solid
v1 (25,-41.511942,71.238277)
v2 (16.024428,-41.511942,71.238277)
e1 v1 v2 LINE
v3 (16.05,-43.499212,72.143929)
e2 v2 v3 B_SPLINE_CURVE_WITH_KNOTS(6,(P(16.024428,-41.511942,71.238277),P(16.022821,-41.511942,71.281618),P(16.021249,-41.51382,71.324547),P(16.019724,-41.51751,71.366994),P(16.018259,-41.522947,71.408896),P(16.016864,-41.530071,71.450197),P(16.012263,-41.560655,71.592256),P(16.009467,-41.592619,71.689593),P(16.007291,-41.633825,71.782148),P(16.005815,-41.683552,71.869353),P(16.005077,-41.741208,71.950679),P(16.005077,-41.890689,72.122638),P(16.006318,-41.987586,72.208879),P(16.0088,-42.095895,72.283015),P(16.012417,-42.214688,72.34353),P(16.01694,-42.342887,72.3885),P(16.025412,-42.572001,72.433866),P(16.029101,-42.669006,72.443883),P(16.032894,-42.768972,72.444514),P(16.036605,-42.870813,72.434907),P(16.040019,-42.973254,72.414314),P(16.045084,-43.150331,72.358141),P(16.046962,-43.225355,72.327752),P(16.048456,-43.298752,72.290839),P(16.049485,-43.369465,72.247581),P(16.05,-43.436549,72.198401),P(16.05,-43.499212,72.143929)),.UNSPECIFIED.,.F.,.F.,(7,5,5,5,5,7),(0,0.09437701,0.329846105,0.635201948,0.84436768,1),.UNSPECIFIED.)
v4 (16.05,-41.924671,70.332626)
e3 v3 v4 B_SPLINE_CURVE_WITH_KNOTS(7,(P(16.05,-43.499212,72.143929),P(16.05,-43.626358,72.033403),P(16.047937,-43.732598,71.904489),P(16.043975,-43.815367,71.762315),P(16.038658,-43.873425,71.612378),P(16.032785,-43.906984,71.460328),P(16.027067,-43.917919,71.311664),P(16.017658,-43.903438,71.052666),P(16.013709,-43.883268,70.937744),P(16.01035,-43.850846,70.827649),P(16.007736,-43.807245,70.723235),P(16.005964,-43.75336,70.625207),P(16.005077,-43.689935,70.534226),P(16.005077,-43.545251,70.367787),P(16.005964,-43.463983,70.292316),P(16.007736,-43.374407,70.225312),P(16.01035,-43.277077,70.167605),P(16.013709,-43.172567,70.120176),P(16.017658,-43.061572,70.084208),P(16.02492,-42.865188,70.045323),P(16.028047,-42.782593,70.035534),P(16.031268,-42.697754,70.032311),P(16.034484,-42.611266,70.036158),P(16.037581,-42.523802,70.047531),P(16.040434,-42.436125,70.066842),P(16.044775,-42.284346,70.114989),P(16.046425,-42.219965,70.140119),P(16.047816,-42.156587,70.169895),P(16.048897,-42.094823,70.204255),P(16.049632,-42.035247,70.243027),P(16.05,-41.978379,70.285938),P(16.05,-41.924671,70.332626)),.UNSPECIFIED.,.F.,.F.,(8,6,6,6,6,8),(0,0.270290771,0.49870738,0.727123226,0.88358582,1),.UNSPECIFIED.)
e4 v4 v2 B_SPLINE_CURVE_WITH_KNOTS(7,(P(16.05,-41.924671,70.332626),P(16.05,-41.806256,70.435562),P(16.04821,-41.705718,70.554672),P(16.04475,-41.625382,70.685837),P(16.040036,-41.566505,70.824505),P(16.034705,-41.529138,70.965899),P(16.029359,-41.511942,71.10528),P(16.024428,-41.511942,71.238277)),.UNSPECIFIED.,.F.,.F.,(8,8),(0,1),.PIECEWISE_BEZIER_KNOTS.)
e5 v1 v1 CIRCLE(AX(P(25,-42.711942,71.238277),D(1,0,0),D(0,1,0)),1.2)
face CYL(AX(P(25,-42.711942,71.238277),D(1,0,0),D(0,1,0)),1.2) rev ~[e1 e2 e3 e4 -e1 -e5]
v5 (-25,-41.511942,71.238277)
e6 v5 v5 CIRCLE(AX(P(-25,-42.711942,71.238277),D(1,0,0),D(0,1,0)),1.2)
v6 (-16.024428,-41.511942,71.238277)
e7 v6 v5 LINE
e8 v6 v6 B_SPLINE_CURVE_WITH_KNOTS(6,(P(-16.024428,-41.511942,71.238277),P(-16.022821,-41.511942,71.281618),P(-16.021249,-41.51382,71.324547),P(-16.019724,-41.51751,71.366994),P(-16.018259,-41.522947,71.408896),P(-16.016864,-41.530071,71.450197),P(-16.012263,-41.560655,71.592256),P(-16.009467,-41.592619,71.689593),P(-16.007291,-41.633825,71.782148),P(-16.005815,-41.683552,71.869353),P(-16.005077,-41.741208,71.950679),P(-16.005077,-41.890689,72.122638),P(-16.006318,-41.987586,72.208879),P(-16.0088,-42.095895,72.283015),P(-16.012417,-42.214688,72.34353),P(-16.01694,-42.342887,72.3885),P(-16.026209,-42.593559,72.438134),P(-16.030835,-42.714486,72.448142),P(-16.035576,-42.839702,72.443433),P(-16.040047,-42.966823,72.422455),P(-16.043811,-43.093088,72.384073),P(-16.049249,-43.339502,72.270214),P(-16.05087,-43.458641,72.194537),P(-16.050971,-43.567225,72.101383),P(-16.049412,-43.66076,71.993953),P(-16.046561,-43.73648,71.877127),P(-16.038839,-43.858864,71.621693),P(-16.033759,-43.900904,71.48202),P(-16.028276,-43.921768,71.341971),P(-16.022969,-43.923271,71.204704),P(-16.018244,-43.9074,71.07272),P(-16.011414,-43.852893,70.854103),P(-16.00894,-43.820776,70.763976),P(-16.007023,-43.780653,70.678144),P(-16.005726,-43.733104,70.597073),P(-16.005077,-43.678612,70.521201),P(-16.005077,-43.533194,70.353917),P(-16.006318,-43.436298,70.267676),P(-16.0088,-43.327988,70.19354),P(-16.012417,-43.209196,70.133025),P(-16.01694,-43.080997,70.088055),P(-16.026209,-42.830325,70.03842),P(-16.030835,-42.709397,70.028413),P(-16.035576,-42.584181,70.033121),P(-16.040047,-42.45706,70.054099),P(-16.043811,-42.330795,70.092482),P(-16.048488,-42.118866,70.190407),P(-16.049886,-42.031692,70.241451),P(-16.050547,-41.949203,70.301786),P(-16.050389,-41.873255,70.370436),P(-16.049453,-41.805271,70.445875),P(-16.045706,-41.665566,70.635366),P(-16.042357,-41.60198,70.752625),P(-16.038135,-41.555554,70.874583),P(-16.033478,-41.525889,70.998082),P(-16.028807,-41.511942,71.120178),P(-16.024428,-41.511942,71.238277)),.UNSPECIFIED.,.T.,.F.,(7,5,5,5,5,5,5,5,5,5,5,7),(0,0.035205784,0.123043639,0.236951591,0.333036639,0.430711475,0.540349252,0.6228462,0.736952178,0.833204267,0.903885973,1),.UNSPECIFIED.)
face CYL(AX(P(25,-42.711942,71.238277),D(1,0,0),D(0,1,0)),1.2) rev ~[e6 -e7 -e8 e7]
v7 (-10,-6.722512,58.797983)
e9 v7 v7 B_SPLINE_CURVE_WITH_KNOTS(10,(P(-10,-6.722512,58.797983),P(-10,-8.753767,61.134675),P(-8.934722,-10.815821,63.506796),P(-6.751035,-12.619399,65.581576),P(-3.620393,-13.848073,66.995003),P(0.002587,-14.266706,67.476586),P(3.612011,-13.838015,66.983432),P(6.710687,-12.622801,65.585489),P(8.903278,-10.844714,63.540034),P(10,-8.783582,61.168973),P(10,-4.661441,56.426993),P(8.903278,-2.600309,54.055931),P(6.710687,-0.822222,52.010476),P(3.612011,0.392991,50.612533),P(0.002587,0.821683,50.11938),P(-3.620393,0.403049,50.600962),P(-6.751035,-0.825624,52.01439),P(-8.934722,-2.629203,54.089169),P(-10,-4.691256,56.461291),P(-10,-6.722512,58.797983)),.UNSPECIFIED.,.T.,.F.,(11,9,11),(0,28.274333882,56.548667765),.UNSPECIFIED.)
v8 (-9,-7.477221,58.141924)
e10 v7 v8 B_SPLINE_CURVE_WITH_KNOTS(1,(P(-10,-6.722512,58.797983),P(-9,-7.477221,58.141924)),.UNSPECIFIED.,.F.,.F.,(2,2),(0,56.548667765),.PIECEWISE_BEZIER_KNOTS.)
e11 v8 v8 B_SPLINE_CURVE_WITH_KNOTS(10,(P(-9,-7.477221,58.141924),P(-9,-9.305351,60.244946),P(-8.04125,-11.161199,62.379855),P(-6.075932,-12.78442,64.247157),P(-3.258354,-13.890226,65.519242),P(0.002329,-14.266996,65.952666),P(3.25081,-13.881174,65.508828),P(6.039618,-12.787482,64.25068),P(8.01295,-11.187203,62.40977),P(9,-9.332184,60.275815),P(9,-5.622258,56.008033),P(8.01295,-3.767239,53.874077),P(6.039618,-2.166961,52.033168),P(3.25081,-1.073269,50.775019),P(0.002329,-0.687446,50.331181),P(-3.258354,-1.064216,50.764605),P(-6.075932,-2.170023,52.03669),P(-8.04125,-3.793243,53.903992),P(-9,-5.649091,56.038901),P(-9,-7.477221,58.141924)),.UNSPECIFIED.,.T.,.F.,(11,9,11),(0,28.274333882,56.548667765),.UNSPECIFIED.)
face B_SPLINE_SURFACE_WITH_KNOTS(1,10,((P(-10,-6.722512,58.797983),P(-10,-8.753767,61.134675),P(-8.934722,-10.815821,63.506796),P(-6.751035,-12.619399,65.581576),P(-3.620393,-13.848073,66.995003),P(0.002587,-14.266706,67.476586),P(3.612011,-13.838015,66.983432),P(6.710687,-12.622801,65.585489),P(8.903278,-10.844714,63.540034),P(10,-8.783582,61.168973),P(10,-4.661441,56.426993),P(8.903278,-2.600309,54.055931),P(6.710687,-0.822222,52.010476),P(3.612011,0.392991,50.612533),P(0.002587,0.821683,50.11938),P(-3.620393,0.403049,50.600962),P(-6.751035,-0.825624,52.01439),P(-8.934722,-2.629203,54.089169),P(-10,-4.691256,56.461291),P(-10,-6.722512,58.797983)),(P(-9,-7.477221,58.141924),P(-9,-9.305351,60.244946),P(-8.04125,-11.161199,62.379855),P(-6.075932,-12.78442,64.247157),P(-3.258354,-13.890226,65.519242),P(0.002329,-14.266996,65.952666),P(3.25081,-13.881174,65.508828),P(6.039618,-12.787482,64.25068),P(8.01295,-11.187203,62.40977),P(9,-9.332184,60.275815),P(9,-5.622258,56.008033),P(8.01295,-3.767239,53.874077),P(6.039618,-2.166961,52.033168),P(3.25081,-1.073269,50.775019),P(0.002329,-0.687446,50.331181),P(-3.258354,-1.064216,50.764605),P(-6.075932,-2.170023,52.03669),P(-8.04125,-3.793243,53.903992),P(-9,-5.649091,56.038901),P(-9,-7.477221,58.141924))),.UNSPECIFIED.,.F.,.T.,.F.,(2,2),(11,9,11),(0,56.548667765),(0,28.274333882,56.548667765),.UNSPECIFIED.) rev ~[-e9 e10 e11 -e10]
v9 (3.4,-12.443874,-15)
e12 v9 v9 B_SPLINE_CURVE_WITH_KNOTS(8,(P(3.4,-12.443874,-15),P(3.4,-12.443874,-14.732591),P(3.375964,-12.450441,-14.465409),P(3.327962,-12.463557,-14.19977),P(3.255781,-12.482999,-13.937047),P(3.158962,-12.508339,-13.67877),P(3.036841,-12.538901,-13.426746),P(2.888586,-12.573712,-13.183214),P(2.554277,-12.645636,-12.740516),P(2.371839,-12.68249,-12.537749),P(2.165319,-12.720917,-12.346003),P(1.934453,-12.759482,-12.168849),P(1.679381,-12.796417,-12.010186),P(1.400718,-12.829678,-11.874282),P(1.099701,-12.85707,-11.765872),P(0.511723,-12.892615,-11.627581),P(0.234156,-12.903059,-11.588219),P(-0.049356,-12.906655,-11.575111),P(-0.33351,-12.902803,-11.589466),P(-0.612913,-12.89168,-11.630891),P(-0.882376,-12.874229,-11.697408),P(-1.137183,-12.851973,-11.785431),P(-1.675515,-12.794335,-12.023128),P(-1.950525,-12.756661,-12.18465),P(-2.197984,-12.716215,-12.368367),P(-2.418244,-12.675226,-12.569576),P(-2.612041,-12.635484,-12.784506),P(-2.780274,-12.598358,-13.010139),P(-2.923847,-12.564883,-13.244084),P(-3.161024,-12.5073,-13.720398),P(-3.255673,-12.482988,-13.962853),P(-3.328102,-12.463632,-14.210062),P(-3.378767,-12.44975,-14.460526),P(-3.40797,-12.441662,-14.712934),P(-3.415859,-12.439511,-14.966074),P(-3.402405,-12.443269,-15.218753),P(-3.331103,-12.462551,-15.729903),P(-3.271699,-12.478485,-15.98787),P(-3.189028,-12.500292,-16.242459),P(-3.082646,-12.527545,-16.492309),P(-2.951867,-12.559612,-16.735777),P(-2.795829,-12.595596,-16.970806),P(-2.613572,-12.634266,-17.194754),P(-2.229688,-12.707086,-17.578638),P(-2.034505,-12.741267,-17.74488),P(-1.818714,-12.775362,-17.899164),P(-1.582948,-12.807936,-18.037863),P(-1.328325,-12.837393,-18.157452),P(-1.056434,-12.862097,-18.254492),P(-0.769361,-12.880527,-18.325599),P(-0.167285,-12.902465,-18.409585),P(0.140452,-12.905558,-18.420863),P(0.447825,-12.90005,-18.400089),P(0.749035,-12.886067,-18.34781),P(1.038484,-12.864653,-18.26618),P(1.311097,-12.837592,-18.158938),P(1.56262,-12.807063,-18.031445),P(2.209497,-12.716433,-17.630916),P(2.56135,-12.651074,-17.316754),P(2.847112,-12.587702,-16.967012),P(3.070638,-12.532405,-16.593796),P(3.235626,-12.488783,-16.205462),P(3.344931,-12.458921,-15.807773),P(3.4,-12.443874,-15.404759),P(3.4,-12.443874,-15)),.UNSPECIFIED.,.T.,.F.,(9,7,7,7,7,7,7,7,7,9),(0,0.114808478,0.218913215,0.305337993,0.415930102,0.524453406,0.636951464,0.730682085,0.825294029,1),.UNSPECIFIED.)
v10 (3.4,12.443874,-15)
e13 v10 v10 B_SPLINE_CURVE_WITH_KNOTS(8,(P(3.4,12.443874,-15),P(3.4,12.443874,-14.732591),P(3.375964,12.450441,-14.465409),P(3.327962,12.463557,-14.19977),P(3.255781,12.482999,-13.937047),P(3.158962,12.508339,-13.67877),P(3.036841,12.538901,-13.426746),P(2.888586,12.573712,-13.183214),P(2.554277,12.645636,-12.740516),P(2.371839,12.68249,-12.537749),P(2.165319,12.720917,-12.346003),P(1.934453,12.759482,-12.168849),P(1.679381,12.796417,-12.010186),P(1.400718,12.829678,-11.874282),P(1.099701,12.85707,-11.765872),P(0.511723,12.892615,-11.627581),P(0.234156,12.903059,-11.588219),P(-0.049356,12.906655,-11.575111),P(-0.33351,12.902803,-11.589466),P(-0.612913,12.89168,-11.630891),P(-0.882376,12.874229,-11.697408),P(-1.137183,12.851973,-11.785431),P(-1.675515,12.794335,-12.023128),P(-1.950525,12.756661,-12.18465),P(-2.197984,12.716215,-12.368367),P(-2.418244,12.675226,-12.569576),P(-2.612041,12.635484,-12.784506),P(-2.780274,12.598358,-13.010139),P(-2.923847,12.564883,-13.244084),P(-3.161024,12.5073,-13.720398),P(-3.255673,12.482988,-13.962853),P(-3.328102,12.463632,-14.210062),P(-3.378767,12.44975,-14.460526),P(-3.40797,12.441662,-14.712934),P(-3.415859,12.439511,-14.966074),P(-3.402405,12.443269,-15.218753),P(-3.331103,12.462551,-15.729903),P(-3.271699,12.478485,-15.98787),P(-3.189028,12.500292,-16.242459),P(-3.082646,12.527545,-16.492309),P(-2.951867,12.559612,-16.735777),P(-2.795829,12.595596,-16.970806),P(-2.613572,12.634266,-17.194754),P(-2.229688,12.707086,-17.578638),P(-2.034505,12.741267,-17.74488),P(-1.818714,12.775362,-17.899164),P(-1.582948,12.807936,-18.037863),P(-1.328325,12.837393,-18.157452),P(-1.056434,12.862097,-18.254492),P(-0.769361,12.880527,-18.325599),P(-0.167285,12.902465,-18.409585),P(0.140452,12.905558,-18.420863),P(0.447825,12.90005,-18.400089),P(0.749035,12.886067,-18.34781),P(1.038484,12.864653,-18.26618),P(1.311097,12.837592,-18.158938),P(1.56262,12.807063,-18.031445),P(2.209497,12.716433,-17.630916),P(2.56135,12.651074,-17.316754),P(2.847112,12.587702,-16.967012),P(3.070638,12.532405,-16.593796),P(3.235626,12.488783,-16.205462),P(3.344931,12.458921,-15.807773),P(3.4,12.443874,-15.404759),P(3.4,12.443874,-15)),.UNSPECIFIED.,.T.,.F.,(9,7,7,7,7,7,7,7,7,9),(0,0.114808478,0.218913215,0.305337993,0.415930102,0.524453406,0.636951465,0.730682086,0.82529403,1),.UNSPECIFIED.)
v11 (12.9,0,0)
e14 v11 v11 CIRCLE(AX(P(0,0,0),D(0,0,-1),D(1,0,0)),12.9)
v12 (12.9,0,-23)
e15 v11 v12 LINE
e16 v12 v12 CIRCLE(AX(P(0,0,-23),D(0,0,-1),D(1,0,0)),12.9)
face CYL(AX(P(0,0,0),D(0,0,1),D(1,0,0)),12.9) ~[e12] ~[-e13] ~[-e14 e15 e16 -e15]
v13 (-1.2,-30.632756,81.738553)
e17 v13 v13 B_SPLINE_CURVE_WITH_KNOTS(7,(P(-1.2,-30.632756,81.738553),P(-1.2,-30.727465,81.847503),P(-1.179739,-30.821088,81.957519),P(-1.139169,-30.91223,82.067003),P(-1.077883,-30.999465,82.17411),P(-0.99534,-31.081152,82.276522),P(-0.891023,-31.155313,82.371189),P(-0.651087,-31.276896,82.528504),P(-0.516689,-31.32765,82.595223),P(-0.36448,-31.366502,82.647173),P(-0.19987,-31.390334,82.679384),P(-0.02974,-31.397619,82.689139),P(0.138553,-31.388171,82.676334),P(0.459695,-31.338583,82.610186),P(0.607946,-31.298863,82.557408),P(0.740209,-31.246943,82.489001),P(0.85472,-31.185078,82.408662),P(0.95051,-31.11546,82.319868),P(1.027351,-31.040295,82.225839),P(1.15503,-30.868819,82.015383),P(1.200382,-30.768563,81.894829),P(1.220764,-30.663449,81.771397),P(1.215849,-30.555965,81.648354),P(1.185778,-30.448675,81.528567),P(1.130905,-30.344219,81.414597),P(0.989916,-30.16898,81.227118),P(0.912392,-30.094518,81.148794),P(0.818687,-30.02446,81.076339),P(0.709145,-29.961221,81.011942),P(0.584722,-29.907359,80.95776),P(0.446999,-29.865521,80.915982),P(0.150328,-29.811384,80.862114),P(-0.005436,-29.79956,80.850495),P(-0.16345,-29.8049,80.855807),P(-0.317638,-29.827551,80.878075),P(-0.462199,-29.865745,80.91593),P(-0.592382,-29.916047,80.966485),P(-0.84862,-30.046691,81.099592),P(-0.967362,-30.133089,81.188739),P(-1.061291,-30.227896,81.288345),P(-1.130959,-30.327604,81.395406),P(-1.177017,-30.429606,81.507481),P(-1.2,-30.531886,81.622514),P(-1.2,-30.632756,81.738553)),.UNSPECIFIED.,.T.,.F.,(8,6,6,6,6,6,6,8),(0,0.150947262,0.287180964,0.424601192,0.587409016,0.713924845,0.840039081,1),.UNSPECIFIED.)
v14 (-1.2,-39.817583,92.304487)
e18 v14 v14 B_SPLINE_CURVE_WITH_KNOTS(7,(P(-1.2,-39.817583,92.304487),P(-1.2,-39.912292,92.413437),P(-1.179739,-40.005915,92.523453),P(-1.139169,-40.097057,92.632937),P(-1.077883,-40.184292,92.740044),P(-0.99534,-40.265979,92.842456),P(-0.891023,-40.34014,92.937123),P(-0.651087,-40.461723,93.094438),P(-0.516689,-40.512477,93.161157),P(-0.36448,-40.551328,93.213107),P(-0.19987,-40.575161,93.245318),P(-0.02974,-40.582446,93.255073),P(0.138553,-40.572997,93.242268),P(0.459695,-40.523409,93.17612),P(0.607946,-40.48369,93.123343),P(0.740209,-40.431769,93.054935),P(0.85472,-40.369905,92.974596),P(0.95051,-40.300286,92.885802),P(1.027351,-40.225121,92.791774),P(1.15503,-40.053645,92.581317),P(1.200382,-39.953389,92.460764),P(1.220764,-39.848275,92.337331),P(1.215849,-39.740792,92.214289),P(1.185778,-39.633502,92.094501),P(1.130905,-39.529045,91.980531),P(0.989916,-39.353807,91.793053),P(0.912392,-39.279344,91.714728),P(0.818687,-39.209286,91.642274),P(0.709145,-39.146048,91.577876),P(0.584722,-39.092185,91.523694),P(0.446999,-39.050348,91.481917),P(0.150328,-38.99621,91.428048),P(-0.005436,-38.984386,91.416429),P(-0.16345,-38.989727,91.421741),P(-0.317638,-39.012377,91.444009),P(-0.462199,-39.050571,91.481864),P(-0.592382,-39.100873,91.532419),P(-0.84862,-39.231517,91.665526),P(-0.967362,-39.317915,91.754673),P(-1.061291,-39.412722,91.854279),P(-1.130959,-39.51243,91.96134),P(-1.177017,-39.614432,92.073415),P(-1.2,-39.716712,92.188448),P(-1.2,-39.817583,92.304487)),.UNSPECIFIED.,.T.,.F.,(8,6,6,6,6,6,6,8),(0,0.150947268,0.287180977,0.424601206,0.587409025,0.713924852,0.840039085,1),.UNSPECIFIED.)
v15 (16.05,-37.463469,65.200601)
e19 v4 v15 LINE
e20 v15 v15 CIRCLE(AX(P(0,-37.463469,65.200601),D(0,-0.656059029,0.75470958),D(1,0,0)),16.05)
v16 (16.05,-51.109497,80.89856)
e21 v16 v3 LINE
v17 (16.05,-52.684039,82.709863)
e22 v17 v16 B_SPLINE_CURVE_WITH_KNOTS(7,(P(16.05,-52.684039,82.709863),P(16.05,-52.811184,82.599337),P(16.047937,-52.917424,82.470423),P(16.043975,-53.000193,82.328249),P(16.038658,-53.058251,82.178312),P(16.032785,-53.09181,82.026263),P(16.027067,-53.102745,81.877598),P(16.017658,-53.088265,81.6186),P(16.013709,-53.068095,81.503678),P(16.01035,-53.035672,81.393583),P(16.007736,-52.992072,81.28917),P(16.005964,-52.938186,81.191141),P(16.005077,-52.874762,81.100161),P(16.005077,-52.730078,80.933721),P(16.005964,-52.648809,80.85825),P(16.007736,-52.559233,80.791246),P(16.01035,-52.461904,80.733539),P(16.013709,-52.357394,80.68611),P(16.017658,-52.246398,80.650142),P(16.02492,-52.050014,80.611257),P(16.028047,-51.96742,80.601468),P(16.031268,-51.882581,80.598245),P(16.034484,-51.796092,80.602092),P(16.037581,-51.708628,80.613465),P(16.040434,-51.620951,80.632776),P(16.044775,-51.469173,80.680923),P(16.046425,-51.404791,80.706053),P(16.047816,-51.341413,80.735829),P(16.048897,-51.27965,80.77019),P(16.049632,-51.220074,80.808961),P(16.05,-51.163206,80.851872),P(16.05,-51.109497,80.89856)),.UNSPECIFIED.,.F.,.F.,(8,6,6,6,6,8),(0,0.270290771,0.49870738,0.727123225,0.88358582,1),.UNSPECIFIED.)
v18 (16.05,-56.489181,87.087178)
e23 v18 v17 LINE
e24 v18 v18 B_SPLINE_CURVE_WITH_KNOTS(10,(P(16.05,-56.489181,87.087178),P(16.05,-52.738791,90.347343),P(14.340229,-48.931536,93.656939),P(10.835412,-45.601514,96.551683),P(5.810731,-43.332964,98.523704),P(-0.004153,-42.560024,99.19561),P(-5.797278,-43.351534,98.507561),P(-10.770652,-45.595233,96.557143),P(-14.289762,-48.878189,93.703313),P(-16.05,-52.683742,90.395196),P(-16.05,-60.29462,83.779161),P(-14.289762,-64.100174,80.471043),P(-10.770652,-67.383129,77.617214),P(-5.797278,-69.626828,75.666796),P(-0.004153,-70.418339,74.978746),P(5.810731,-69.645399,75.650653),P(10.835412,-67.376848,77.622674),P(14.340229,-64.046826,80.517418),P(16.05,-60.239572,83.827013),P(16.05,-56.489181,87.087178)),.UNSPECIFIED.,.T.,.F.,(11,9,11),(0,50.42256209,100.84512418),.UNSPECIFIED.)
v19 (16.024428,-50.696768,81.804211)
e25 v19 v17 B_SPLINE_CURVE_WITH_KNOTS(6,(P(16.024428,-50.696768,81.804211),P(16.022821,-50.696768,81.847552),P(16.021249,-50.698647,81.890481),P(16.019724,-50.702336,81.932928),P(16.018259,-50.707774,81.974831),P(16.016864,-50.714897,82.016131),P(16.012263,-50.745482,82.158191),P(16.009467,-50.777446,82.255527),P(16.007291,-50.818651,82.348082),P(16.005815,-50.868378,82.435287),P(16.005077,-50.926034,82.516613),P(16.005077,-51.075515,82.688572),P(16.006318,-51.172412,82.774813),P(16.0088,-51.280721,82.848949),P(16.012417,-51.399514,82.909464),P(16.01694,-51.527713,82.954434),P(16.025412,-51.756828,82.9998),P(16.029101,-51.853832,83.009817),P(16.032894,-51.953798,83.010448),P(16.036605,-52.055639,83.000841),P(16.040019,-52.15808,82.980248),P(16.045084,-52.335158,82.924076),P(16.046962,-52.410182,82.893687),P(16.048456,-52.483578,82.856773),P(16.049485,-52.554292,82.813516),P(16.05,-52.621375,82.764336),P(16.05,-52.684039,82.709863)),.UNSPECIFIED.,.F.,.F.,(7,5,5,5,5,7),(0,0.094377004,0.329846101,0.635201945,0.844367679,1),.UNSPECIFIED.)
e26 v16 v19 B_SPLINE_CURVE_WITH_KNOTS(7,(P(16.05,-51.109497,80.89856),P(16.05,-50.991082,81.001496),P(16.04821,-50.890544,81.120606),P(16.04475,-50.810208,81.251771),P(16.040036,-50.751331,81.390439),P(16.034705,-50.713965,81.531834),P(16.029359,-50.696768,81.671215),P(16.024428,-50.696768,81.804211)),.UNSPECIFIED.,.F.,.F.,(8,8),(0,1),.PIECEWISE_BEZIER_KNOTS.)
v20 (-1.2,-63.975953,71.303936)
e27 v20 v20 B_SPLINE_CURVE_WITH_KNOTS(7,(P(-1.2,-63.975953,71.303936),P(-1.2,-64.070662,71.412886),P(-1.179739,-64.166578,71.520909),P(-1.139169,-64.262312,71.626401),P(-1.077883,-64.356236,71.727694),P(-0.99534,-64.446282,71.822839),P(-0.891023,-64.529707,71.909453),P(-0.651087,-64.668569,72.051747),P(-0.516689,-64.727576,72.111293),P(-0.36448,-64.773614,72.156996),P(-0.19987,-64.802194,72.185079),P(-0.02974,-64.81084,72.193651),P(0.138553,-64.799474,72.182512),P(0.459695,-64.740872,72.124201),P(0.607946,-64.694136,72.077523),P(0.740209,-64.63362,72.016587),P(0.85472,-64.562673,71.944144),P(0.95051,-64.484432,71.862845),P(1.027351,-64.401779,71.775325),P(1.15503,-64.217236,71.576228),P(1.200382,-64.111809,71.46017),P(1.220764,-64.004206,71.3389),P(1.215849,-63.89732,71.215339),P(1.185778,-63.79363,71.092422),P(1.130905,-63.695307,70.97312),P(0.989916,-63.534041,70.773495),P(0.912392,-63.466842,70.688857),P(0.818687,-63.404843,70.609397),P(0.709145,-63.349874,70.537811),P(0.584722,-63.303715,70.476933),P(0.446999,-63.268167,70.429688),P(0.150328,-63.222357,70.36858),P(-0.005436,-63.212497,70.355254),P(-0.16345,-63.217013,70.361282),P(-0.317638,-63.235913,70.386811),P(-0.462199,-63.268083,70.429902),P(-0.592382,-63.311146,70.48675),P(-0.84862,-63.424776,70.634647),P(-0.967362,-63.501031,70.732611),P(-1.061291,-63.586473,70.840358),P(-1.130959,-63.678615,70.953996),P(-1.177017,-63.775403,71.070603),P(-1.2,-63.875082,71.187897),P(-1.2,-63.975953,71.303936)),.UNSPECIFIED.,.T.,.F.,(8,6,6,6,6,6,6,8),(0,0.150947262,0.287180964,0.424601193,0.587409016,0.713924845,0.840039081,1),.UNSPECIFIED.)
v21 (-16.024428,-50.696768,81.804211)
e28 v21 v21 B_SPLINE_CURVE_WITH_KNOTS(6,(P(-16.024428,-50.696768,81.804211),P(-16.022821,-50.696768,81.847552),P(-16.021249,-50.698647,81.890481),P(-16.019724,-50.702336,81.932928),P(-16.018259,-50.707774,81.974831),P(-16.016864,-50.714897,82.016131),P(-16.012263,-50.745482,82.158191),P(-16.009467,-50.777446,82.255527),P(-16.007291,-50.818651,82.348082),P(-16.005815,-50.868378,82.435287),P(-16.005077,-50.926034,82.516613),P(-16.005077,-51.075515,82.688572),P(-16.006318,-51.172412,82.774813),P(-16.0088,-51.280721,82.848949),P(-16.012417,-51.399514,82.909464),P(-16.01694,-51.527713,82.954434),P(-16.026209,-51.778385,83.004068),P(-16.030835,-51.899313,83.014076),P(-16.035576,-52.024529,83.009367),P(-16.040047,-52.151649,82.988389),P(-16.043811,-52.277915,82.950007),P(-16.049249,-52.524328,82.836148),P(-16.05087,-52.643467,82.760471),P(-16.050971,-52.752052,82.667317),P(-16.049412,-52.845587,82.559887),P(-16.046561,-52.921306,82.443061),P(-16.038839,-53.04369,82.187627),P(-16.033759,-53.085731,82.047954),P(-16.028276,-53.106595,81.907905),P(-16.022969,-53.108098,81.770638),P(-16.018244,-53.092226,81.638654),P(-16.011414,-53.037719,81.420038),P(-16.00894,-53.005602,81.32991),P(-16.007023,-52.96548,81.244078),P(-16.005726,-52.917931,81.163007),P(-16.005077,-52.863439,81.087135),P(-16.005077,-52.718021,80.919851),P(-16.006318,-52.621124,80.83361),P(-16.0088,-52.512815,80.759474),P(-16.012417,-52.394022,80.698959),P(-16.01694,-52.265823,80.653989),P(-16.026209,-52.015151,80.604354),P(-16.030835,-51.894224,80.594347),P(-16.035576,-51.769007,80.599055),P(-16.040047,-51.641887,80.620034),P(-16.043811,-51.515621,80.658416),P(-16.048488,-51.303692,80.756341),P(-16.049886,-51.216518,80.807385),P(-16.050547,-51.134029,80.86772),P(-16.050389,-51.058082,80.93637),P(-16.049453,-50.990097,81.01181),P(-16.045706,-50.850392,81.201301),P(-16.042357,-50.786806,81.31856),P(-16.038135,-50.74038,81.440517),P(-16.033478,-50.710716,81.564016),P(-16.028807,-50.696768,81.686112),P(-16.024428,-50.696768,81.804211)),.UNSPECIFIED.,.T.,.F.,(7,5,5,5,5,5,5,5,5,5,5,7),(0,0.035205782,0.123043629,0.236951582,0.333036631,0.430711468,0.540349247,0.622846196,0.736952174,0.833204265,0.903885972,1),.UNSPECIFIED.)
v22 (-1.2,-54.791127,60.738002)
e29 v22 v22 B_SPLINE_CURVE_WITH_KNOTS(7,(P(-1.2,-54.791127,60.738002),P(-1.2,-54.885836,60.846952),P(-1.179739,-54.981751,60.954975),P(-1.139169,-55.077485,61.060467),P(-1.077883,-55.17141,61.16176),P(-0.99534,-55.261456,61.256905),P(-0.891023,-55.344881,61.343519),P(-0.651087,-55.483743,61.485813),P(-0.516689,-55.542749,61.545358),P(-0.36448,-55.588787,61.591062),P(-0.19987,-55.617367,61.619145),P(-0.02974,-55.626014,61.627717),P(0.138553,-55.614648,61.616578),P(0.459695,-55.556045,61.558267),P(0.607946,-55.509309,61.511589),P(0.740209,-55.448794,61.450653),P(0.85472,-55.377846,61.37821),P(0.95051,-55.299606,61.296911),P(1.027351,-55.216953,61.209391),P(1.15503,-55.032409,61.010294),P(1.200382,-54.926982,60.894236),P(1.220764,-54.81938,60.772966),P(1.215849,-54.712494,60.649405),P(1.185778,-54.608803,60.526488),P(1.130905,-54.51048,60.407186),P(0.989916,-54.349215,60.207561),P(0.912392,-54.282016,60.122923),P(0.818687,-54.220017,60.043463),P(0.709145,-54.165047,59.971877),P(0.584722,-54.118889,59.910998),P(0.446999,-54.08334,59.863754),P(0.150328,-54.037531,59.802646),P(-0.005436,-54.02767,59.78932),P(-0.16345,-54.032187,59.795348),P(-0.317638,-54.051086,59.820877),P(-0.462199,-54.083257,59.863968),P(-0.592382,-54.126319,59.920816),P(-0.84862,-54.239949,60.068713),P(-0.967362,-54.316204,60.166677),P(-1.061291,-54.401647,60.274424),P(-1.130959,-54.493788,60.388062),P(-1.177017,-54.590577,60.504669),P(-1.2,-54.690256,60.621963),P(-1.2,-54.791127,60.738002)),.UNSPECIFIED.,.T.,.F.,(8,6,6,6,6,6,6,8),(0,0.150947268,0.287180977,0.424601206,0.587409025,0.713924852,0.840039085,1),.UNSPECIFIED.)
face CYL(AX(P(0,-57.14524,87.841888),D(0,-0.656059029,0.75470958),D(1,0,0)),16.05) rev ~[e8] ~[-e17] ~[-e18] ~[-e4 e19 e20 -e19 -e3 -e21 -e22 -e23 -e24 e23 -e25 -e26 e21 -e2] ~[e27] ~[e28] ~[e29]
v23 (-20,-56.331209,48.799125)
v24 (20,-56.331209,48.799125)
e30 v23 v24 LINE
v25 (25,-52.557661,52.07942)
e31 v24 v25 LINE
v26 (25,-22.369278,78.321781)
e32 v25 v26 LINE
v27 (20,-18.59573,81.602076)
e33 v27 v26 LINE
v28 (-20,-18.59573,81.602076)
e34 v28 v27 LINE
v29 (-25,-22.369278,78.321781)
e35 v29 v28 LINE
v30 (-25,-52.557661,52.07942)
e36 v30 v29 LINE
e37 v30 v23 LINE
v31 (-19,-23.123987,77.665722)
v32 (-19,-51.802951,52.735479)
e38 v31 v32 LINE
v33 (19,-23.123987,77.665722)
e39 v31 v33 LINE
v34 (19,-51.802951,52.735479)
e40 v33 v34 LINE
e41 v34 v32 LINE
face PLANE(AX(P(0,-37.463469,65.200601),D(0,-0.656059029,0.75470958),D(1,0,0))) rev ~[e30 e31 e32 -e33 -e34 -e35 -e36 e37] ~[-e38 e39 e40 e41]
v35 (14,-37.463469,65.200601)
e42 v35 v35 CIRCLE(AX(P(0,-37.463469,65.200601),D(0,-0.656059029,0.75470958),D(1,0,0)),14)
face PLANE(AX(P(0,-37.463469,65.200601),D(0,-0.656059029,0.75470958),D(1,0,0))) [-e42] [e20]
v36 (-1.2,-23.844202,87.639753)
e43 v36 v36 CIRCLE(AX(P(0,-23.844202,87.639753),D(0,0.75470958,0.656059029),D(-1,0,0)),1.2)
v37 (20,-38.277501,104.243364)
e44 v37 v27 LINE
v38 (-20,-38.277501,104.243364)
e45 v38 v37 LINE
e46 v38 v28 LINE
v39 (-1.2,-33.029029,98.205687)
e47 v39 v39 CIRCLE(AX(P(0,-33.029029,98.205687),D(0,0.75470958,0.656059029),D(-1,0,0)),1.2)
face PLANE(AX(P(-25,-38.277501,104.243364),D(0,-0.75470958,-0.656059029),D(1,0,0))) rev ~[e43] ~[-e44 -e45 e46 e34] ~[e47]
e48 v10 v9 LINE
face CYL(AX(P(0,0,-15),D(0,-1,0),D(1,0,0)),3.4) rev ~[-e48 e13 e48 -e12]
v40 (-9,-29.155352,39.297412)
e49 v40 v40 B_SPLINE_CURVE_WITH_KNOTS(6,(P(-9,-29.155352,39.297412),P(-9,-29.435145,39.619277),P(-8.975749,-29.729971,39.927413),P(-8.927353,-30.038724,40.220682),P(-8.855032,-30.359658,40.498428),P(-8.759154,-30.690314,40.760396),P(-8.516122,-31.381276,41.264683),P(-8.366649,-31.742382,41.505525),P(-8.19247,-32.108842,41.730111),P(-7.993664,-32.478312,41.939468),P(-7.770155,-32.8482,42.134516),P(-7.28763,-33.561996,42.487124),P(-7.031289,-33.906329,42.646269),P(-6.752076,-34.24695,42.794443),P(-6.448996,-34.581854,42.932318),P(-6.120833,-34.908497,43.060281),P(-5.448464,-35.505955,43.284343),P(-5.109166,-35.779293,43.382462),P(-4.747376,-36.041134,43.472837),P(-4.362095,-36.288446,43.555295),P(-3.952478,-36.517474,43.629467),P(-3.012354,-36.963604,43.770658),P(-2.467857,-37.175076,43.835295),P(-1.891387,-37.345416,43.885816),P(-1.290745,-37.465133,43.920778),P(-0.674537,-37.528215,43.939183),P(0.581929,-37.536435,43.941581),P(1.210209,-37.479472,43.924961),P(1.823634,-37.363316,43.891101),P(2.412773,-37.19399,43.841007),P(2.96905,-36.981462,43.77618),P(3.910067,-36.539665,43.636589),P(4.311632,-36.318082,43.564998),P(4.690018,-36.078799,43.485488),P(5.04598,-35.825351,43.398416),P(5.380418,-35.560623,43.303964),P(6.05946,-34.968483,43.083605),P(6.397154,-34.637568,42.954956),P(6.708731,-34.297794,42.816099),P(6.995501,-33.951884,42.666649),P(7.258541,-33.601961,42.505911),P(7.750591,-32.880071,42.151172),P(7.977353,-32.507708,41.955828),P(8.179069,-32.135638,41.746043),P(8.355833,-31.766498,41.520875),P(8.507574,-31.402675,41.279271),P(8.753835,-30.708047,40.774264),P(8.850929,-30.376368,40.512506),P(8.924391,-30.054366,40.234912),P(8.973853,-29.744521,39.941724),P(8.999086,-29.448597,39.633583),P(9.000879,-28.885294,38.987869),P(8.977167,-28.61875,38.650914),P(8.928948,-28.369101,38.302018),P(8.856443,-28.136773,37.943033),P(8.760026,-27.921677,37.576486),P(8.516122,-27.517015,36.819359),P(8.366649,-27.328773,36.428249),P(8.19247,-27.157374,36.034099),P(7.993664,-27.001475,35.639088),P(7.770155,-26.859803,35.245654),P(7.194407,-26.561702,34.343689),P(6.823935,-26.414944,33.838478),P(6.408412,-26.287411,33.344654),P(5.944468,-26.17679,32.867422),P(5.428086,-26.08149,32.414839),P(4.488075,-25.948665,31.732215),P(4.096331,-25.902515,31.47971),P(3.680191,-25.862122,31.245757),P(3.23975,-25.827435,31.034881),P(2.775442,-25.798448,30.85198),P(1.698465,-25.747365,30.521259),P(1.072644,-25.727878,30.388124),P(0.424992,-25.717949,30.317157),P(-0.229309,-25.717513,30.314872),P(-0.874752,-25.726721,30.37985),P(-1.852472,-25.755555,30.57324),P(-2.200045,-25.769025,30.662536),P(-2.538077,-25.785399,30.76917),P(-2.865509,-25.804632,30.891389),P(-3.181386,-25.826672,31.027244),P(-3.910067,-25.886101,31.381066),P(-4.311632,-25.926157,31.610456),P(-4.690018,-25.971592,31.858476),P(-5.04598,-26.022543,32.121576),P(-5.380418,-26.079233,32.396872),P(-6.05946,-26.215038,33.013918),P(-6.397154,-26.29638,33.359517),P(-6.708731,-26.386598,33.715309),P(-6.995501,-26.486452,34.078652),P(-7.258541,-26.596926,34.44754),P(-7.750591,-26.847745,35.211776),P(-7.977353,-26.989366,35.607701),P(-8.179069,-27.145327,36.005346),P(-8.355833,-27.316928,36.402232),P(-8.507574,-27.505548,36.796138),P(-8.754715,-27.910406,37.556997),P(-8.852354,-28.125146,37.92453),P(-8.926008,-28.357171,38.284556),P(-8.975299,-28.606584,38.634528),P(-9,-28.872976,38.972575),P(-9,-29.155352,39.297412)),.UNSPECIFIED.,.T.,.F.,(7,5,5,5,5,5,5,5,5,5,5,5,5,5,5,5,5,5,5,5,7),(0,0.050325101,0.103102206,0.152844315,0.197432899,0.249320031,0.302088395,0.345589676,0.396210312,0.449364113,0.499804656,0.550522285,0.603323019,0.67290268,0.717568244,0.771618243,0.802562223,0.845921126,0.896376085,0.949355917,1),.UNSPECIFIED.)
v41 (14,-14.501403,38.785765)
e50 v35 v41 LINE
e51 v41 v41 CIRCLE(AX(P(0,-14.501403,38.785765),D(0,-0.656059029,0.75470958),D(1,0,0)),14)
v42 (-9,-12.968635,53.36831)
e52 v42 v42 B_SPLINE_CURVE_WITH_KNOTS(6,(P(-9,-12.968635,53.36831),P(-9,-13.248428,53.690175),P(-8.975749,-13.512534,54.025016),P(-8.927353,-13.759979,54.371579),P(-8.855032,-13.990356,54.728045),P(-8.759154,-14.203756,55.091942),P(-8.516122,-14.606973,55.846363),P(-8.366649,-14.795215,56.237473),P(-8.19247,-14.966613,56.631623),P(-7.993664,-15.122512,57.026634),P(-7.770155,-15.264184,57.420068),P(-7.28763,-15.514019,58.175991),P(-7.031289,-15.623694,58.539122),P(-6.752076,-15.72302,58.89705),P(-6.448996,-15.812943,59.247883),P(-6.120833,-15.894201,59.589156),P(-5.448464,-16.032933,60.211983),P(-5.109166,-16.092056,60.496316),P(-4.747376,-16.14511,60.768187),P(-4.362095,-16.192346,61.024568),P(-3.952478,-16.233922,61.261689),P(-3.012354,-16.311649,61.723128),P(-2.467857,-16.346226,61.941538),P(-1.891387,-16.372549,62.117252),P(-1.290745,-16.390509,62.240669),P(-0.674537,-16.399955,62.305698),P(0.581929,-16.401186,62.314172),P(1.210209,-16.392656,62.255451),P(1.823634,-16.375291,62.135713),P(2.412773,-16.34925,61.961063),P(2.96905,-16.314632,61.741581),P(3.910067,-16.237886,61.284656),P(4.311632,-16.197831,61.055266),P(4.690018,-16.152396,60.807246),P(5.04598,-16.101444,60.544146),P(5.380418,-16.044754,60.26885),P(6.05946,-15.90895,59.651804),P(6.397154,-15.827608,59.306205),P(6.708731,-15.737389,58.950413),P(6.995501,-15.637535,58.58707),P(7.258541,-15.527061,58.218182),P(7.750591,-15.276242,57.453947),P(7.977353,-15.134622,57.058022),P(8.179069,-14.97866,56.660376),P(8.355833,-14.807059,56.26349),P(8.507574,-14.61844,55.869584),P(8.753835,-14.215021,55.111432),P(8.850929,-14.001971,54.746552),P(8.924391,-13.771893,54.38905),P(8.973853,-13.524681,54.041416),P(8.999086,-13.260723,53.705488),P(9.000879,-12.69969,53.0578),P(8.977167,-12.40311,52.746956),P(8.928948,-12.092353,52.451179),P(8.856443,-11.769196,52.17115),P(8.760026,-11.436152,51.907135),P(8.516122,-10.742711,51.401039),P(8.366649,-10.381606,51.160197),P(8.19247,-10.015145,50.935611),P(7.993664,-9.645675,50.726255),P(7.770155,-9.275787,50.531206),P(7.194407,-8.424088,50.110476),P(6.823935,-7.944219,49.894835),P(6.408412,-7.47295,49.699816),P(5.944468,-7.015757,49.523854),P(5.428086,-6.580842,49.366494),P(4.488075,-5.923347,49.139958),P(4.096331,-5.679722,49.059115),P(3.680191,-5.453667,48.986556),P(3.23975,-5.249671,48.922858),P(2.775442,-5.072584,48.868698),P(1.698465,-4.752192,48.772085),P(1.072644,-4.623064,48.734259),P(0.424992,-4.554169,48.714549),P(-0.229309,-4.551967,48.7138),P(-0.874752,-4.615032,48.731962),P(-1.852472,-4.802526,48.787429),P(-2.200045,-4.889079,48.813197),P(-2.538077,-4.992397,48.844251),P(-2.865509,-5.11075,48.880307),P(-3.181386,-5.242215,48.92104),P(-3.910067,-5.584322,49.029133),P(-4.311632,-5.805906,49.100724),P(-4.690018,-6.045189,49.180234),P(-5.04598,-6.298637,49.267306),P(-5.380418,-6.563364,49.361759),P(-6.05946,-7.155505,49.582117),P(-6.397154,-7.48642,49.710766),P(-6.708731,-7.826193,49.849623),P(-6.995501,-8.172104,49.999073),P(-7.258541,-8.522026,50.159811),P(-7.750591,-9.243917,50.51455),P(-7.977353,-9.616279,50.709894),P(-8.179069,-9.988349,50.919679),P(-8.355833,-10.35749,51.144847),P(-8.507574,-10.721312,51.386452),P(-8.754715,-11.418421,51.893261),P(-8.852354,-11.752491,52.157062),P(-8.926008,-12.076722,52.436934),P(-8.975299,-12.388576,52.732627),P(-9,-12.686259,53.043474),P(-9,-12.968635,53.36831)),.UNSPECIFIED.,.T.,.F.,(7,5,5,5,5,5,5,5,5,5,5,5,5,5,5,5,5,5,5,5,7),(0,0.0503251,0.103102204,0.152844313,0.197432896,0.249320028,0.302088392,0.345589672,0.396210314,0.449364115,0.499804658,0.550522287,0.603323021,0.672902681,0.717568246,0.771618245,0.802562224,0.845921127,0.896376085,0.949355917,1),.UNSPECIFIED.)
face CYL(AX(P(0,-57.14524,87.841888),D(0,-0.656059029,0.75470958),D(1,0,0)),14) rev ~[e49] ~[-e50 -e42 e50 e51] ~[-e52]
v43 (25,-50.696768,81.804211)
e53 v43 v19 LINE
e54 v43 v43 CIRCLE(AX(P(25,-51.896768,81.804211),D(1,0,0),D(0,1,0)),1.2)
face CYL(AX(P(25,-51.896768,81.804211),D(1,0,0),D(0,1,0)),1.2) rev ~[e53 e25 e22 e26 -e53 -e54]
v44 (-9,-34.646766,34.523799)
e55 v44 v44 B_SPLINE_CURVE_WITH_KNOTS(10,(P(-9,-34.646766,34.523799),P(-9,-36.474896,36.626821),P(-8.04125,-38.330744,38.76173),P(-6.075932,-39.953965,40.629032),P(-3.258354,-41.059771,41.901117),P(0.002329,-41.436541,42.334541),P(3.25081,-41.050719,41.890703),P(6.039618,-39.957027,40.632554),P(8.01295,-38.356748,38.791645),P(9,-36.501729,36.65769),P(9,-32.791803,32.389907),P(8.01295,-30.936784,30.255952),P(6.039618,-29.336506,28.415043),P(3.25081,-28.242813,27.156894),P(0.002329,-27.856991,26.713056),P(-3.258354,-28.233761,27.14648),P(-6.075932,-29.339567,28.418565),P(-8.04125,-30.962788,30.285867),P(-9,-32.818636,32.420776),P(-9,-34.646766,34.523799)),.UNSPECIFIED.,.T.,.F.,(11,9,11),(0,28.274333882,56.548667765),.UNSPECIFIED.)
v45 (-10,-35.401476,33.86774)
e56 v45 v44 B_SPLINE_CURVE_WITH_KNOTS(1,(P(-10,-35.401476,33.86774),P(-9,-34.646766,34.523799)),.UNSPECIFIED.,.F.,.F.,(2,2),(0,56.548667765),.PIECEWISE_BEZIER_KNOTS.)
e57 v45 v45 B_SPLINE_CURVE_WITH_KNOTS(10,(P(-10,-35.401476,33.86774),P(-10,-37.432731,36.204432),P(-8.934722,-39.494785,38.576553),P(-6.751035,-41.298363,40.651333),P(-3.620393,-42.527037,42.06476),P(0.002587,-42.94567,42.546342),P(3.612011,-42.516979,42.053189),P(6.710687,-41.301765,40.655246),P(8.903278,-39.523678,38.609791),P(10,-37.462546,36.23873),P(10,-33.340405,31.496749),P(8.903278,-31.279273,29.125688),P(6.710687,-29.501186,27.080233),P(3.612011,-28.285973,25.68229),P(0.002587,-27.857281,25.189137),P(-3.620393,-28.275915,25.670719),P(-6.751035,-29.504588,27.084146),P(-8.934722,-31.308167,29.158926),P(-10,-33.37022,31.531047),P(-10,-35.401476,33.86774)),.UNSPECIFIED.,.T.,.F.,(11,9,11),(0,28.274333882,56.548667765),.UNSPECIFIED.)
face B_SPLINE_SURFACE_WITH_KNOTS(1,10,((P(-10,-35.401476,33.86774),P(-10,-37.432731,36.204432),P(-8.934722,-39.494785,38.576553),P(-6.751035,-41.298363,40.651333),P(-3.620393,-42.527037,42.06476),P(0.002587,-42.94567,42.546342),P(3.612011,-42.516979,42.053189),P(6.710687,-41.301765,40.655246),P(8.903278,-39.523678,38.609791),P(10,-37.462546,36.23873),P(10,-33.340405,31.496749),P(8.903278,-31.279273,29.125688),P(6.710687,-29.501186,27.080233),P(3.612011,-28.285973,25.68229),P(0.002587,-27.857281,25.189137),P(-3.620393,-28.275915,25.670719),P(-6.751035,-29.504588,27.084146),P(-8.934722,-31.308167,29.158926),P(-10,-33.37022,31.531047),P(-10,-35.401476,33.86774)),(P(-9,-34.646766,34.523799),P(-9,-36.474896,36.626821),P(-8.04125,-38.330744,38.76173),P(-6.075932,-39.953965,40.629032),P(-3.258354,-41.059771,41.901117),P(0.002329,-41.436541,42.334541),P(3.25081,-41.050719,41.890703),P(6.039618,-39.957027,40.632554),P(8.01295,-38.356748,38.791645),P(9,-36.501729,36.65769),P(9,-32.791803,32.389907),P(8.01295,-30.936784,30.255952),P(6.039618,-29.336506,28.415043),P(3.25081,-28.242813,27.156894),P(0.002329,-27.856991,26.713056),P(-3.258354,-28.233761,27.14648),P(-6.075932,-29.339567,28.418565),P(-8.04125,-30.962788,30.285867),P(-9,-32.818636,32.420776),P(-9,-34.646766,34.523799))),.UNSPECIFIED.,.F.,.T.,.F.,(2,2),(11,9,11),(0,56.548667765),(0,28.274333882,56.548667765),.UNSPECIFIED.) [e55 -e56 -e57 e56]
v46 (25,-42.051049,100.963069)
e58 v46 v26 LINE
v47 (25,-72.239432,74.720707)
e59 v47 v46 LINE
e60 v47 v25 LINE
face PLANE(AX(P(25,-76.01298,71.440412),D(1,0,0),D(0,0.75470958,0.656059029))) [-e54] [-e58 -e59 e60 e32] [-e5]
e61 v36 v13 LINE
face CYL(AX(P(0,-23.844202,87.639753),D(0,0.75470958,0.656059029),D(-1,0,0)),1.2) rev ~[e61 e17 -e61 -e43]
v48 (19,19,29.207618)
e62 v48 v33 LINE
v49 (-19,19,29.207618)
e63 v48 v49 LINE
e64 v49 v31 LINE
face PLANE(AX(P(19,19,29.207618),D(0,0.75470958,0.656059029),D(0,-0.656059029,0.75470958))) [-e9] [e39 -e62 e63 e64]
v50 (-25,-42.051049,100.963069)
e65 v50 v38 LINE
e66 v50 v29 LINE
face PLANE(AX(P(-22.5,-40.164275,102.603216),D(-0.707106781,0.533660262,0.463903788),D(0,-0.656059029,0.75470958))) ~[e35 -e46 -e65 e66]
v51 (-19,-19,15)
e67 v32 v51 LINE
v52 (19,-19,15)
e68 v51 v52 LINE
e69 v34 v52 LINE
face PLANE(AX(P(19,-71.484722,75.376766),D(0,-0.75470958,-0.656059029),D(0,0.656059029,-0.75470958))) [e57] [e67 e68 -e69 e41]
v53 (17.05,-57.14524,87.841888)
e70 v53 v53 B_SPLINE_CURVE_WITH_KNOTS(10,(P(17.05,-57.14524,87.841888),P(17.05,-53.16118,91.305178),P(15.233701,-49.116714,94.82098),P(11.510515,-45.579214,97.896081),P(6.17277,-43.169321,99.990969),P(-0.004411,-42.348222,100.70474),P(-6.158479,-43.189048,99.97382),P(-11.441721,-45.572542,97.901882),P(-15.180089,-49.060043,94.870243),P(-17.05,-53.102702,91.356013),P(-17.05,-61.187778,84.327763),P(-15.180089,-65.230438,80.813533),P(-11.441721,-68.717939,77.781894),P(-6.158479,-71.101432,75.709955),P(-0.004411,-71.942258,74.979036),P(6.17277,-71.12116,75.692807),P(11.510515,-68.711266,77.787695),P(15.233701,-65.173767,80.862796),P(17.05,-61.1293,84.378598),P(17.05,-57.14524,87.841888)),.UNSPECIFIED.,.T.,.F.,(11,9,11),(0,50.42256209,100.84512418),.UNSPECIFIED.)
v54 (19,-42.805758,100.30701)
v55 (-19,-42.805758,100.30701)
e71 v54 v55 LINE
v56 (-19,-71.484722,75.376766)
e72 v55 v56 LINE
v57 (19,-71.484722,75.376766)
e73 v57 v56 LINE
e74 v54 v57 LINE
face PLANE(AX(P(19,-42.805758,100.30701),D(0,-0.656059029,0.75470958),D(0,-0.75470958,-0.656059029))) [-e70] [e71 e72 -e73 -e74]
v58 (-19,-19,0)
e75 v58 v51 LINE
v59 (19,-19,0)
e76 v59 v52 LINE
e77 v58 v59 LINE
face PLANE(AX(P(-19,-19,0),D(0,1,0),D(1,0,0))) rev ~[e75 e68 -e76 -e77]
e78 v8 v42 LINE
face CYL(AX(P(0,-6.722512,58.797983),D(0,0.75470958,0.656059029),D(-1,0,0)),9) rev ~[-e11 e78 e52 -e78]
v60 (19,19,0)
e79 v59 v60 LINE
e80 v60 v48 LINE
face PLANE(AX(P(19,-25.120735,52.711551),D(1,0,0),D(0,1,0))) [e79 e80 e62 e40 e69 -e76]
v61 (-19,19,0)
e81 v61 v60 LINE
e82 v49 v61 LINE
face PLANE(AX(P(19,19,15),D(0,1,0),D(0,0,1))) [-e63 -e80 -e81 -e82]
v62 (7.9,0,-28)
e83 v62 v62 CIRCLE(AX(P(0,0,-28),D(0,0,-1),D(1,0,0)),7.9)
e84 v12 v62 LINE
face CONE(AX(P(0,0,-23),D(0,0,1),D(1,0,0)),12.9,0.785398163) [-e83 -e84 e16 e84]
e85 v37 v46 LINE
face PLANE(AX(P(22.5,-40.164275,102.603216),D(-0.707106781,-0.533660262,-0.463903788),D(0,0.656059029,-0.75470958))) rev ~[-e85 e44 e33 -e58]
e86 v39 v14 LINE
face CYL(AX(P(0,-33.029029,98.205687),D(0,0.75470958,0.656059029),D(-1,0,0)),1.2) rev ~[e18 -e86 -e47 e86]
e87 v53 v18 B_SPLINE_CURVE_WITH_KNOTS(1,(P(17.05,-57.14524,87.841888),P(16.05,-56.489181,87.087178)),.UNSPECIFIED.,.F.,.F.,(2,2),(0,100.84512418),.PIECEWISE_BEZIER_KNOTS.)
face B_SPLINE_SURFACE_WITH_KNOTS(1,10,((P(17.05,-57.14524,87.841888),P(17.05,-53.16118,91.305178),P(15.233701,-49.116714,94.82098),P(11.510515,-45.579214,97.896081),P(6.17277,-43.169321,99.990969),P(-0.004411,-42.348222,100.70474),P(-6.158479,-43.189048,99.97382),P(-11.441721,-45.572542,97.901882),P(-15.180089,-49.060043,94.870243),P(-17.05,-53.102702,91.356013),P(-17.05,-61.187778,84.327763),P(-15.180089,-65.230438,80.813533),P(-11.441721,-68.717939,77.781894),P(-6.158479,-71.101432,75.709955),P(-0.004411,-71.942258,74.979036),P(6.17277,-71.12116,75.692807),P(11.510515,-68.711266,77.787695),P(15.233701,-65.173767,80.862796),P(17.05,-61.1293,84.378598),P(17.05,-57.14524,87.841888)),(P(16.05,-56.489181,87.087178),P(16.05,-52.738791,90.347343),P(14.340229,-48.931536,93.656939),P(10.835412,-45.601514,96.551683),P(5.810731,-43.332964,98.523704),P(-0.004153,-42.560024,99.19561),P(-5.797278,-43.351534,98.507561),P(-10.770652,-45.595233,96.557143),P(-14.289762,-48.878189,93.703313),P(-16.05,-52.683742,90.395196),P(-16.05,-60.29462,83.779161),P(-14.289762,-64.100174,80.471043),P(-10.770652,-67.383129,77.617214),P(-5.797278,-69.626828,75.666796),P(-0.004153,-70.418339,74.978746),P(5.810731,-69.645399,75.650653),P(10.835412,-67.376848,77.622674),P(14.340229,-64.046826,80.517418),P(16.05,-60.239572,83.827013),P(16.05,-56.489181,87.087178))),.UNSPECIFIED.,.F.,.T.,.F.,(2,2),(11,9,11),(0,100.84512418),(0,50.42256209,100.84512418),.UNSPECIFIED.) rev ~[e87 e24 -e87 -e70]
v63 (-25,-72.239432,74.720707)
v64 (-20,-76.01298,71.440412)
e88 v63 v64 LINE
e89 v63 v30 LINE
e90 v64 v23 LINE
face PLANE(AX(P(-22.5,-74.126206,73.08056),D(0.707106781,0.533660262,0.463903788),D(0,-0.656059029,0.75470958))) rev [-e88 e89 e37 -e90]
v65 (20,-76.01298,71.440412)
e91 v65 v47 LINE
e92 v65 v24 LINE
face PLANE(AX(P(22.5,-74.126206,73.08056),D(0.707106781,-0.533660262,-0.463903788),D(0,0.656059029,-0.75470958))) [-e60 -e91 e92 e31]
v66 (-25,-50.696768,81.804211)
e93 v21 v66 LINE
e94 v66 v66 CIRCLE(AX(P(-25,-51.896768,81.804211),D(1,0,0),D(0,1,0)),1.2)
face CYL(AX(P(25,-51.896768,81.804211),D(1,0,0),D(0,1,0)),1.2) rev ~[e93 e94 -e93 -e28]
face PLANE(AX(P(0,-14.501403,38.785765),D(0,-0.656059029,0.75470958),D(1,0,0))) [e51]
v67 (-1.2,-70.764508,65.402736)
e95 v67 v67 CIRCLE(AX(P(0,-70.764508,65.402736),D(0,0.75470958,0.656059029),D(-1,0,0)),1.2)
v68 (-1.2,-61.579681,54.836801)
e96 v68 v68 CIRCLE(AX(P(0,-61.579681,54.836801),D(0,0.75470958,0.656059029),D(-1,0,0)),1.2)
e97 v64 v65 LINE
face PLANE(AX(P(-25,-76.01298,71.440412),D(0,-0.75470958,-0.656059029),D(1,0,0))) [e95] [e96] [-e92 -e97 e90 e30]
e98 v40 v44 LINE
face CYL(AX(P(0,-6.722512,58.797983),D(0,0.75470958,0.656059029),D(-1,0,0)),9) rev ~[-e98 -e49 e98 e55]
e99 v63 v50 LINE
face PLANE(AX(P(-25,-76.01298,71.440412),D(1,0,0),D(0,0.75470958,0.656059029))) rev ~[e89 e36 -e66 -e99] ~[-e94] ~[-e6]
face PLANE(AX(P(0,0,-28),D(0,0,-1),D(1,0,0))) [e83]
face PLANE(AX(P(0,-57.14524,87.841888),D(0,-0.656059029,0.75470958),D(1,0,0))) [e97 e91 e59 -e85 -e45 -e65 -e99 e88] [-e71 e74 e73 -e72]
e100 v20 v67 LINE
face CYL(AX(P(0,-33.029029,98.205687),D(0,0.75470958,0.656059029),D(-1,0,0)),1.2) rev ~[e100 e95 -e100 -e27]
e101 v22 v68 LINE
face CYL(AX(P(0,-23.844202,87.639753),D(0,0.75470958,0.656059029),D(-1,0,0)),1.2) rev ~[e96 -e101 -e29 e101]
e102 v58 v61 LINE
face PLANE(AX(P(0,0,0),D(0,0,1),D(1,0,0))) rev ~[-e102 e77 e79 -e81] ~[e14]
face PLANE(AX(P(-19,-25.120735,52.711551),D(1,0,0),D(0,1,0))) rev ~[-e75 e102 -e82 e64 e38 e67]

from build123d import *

# Parameters (mm, degrees)
F0_W      = 38
F0_H      = 38
F1_DEPTH  = 15
F2_R      = 12.9
F3_DEPTH  = 28
F4_R      = 3.4
F5_DEPTH  = 21
F7_DEPTH  = 38
F8_R      = 14
F9_DEPTH  = 65
F10_R     = 16.05
F11_DEPTH = 30
F12_W     = 50
F12_H     = 50
F12_R     = 16.05
F13_DEPTH = 30
F14_R     = 9
F15_DEPTH = 109.2397803647
F16_R     = 1.2
F17_DEPTH = 115.2397803647
F18_R     = 1.2
F19_DEPTH = 50.001
F20_SIZE  = 5
F21_SIZE  = 1


with BuildPart() as f1:
    # F0 (on Top) → F1 (new body)
    with BuildSketch(Plane.XY):
        Rectangle(F0_W, F0_H)
    extrude(amount=F1_DEPTH)

    # F2 (on face) → F3 (join)
    with BuildSketch(Plane(origin=(0, 0, 0), x_dir=(1, 0, 0), z_dir=(0, 0, -1))):
        Circle(F2_R)
    extrude(amount=F3_DEPTH)

    # F4 (on Front) → F5 (cut, symmetric)
    with BuildSketch(Plane.XZ):
        with Locations((0, -15)):
            Circle(F4_R)
    extrude(amount=F5_DEPTH, both=True, mode=Mode.SUBTRACT)

    # F6 (on face) → F7 (join)
    with BuildSketch(Plane.YZ.offset(19)):
        Polygon((-71.4847223192, 75.3767664178), (-19, 15), (19, 15), (19, 29.2076178204), (-42.8057582708, 100.3070095195), align=None)
    extrude(amount=-F7_DEPTH)

    # F8 (on face) → F9 (cut)
    with BuildSketch(Plane(origin=(0, -68.0895883757, 78.3281113281), x_dir=(1, 0, 0), z_dir=(0, -0.656059029, 0.7547095802))):
        with Locations((0, 14.5014034106)):
            Circle(F8_R)
    extrude(amount=-F9_DEPTH, mode=Mode.SUBTRACT)

    # F10 (on face) → F11 (cut)
    with BuildSketch(Plane(origin=(0, -68.0895883757, 78.3281113281), x_dir=(1, 0, 0), z_dir=(0, -0.656059029, 0.7547095802))):
        with Locations((0, 14.5014034106)):
            Circle(F10_R)
    extrude(amount=-F11_DEPTH, mode=Mode.SUBTRACT)

    # F12 (on face) → F13 (join)
    with BuildSketch(Plane(origin=(0, -68.0895883757, 78.3281113281), x_dir=(1, 0, 0), z_dir=(0, -0.656059029, 0.7547095802))):
        with Locations((0, 14.5014034106)):
            Rectangle(F12_W, F12_H)
        with Locations((0, 14.5014034106)):
            Circle(F12_R, mode=Mode.SUBTRACT)
    extrude(amount=-F13_DEPTH)

    # F14 (on face) → F15 (cut, through all)
    with BuildSketch(Plane(origin=(0, 25.2838301049, 21.9788981914), x_dir=(-1, 0, 0), z_dir=(0, 0.7547095802, 0.656059029))):
        with Locations((0, 48.7857652542)):
            Circle(F14_R)
    extrude(amount=-F15_DEPTH, mode=Mode.SUBTRACT)

    # F16 (on face) → F17 (cut, through all)
    with BuildSketch(Plane(origin=(0, 29.8120875862, 25.9152523653), x_dir=(-1, 0, 0), z_dir=(0, 0.7547095802, 0.656059029))):
        with Locations((0, 95.7857652542)):
            Circle(F16_R)
        with Locations((0, 81.7857652542)):
            Circle(F16_R)
    extrude(amount=-F17_DEPTH, mode=Mode.SUBTRACT)

    # F18 (on face) → F19 (cut, through all)
    with BuildSketch(Plane.YZ.offset(25)):
        with Locations((-51.8967680631, 81.8042113269)):
            Circle(F18_R)
        with Locations((-42.7119416572, 71.2382772037)):
            Circle(F18_R)
    extrude(amount=-F19_DEPTH, mode=Mode.SUBTRACT)

    # F20
    f20_edges = [f1.edges().sort_by_distance(p)[0] for p in [
        (-12.9, 0, -28),
        (25, -28.436615, 92.92272),
        (25, -66.172094, 60.119769),
        (-25, -66.172094, 60.119769),
        (-25, -28.436615, 92.92272),
    ]]
    chamfer(f20_edges, length=F20_SIZE)

    # F21
    f21_edges = [f1.edges().sort_by_distance(p)[0] for p in [
        (-16.05, -57.14524, 87.841888),
        (9, -35.401476, 33.86774),
        (9, -6.722512, 58.797983),
    ]]
    chamfer(f21_edges, length=F21_SIZE)


solid = f1.part
